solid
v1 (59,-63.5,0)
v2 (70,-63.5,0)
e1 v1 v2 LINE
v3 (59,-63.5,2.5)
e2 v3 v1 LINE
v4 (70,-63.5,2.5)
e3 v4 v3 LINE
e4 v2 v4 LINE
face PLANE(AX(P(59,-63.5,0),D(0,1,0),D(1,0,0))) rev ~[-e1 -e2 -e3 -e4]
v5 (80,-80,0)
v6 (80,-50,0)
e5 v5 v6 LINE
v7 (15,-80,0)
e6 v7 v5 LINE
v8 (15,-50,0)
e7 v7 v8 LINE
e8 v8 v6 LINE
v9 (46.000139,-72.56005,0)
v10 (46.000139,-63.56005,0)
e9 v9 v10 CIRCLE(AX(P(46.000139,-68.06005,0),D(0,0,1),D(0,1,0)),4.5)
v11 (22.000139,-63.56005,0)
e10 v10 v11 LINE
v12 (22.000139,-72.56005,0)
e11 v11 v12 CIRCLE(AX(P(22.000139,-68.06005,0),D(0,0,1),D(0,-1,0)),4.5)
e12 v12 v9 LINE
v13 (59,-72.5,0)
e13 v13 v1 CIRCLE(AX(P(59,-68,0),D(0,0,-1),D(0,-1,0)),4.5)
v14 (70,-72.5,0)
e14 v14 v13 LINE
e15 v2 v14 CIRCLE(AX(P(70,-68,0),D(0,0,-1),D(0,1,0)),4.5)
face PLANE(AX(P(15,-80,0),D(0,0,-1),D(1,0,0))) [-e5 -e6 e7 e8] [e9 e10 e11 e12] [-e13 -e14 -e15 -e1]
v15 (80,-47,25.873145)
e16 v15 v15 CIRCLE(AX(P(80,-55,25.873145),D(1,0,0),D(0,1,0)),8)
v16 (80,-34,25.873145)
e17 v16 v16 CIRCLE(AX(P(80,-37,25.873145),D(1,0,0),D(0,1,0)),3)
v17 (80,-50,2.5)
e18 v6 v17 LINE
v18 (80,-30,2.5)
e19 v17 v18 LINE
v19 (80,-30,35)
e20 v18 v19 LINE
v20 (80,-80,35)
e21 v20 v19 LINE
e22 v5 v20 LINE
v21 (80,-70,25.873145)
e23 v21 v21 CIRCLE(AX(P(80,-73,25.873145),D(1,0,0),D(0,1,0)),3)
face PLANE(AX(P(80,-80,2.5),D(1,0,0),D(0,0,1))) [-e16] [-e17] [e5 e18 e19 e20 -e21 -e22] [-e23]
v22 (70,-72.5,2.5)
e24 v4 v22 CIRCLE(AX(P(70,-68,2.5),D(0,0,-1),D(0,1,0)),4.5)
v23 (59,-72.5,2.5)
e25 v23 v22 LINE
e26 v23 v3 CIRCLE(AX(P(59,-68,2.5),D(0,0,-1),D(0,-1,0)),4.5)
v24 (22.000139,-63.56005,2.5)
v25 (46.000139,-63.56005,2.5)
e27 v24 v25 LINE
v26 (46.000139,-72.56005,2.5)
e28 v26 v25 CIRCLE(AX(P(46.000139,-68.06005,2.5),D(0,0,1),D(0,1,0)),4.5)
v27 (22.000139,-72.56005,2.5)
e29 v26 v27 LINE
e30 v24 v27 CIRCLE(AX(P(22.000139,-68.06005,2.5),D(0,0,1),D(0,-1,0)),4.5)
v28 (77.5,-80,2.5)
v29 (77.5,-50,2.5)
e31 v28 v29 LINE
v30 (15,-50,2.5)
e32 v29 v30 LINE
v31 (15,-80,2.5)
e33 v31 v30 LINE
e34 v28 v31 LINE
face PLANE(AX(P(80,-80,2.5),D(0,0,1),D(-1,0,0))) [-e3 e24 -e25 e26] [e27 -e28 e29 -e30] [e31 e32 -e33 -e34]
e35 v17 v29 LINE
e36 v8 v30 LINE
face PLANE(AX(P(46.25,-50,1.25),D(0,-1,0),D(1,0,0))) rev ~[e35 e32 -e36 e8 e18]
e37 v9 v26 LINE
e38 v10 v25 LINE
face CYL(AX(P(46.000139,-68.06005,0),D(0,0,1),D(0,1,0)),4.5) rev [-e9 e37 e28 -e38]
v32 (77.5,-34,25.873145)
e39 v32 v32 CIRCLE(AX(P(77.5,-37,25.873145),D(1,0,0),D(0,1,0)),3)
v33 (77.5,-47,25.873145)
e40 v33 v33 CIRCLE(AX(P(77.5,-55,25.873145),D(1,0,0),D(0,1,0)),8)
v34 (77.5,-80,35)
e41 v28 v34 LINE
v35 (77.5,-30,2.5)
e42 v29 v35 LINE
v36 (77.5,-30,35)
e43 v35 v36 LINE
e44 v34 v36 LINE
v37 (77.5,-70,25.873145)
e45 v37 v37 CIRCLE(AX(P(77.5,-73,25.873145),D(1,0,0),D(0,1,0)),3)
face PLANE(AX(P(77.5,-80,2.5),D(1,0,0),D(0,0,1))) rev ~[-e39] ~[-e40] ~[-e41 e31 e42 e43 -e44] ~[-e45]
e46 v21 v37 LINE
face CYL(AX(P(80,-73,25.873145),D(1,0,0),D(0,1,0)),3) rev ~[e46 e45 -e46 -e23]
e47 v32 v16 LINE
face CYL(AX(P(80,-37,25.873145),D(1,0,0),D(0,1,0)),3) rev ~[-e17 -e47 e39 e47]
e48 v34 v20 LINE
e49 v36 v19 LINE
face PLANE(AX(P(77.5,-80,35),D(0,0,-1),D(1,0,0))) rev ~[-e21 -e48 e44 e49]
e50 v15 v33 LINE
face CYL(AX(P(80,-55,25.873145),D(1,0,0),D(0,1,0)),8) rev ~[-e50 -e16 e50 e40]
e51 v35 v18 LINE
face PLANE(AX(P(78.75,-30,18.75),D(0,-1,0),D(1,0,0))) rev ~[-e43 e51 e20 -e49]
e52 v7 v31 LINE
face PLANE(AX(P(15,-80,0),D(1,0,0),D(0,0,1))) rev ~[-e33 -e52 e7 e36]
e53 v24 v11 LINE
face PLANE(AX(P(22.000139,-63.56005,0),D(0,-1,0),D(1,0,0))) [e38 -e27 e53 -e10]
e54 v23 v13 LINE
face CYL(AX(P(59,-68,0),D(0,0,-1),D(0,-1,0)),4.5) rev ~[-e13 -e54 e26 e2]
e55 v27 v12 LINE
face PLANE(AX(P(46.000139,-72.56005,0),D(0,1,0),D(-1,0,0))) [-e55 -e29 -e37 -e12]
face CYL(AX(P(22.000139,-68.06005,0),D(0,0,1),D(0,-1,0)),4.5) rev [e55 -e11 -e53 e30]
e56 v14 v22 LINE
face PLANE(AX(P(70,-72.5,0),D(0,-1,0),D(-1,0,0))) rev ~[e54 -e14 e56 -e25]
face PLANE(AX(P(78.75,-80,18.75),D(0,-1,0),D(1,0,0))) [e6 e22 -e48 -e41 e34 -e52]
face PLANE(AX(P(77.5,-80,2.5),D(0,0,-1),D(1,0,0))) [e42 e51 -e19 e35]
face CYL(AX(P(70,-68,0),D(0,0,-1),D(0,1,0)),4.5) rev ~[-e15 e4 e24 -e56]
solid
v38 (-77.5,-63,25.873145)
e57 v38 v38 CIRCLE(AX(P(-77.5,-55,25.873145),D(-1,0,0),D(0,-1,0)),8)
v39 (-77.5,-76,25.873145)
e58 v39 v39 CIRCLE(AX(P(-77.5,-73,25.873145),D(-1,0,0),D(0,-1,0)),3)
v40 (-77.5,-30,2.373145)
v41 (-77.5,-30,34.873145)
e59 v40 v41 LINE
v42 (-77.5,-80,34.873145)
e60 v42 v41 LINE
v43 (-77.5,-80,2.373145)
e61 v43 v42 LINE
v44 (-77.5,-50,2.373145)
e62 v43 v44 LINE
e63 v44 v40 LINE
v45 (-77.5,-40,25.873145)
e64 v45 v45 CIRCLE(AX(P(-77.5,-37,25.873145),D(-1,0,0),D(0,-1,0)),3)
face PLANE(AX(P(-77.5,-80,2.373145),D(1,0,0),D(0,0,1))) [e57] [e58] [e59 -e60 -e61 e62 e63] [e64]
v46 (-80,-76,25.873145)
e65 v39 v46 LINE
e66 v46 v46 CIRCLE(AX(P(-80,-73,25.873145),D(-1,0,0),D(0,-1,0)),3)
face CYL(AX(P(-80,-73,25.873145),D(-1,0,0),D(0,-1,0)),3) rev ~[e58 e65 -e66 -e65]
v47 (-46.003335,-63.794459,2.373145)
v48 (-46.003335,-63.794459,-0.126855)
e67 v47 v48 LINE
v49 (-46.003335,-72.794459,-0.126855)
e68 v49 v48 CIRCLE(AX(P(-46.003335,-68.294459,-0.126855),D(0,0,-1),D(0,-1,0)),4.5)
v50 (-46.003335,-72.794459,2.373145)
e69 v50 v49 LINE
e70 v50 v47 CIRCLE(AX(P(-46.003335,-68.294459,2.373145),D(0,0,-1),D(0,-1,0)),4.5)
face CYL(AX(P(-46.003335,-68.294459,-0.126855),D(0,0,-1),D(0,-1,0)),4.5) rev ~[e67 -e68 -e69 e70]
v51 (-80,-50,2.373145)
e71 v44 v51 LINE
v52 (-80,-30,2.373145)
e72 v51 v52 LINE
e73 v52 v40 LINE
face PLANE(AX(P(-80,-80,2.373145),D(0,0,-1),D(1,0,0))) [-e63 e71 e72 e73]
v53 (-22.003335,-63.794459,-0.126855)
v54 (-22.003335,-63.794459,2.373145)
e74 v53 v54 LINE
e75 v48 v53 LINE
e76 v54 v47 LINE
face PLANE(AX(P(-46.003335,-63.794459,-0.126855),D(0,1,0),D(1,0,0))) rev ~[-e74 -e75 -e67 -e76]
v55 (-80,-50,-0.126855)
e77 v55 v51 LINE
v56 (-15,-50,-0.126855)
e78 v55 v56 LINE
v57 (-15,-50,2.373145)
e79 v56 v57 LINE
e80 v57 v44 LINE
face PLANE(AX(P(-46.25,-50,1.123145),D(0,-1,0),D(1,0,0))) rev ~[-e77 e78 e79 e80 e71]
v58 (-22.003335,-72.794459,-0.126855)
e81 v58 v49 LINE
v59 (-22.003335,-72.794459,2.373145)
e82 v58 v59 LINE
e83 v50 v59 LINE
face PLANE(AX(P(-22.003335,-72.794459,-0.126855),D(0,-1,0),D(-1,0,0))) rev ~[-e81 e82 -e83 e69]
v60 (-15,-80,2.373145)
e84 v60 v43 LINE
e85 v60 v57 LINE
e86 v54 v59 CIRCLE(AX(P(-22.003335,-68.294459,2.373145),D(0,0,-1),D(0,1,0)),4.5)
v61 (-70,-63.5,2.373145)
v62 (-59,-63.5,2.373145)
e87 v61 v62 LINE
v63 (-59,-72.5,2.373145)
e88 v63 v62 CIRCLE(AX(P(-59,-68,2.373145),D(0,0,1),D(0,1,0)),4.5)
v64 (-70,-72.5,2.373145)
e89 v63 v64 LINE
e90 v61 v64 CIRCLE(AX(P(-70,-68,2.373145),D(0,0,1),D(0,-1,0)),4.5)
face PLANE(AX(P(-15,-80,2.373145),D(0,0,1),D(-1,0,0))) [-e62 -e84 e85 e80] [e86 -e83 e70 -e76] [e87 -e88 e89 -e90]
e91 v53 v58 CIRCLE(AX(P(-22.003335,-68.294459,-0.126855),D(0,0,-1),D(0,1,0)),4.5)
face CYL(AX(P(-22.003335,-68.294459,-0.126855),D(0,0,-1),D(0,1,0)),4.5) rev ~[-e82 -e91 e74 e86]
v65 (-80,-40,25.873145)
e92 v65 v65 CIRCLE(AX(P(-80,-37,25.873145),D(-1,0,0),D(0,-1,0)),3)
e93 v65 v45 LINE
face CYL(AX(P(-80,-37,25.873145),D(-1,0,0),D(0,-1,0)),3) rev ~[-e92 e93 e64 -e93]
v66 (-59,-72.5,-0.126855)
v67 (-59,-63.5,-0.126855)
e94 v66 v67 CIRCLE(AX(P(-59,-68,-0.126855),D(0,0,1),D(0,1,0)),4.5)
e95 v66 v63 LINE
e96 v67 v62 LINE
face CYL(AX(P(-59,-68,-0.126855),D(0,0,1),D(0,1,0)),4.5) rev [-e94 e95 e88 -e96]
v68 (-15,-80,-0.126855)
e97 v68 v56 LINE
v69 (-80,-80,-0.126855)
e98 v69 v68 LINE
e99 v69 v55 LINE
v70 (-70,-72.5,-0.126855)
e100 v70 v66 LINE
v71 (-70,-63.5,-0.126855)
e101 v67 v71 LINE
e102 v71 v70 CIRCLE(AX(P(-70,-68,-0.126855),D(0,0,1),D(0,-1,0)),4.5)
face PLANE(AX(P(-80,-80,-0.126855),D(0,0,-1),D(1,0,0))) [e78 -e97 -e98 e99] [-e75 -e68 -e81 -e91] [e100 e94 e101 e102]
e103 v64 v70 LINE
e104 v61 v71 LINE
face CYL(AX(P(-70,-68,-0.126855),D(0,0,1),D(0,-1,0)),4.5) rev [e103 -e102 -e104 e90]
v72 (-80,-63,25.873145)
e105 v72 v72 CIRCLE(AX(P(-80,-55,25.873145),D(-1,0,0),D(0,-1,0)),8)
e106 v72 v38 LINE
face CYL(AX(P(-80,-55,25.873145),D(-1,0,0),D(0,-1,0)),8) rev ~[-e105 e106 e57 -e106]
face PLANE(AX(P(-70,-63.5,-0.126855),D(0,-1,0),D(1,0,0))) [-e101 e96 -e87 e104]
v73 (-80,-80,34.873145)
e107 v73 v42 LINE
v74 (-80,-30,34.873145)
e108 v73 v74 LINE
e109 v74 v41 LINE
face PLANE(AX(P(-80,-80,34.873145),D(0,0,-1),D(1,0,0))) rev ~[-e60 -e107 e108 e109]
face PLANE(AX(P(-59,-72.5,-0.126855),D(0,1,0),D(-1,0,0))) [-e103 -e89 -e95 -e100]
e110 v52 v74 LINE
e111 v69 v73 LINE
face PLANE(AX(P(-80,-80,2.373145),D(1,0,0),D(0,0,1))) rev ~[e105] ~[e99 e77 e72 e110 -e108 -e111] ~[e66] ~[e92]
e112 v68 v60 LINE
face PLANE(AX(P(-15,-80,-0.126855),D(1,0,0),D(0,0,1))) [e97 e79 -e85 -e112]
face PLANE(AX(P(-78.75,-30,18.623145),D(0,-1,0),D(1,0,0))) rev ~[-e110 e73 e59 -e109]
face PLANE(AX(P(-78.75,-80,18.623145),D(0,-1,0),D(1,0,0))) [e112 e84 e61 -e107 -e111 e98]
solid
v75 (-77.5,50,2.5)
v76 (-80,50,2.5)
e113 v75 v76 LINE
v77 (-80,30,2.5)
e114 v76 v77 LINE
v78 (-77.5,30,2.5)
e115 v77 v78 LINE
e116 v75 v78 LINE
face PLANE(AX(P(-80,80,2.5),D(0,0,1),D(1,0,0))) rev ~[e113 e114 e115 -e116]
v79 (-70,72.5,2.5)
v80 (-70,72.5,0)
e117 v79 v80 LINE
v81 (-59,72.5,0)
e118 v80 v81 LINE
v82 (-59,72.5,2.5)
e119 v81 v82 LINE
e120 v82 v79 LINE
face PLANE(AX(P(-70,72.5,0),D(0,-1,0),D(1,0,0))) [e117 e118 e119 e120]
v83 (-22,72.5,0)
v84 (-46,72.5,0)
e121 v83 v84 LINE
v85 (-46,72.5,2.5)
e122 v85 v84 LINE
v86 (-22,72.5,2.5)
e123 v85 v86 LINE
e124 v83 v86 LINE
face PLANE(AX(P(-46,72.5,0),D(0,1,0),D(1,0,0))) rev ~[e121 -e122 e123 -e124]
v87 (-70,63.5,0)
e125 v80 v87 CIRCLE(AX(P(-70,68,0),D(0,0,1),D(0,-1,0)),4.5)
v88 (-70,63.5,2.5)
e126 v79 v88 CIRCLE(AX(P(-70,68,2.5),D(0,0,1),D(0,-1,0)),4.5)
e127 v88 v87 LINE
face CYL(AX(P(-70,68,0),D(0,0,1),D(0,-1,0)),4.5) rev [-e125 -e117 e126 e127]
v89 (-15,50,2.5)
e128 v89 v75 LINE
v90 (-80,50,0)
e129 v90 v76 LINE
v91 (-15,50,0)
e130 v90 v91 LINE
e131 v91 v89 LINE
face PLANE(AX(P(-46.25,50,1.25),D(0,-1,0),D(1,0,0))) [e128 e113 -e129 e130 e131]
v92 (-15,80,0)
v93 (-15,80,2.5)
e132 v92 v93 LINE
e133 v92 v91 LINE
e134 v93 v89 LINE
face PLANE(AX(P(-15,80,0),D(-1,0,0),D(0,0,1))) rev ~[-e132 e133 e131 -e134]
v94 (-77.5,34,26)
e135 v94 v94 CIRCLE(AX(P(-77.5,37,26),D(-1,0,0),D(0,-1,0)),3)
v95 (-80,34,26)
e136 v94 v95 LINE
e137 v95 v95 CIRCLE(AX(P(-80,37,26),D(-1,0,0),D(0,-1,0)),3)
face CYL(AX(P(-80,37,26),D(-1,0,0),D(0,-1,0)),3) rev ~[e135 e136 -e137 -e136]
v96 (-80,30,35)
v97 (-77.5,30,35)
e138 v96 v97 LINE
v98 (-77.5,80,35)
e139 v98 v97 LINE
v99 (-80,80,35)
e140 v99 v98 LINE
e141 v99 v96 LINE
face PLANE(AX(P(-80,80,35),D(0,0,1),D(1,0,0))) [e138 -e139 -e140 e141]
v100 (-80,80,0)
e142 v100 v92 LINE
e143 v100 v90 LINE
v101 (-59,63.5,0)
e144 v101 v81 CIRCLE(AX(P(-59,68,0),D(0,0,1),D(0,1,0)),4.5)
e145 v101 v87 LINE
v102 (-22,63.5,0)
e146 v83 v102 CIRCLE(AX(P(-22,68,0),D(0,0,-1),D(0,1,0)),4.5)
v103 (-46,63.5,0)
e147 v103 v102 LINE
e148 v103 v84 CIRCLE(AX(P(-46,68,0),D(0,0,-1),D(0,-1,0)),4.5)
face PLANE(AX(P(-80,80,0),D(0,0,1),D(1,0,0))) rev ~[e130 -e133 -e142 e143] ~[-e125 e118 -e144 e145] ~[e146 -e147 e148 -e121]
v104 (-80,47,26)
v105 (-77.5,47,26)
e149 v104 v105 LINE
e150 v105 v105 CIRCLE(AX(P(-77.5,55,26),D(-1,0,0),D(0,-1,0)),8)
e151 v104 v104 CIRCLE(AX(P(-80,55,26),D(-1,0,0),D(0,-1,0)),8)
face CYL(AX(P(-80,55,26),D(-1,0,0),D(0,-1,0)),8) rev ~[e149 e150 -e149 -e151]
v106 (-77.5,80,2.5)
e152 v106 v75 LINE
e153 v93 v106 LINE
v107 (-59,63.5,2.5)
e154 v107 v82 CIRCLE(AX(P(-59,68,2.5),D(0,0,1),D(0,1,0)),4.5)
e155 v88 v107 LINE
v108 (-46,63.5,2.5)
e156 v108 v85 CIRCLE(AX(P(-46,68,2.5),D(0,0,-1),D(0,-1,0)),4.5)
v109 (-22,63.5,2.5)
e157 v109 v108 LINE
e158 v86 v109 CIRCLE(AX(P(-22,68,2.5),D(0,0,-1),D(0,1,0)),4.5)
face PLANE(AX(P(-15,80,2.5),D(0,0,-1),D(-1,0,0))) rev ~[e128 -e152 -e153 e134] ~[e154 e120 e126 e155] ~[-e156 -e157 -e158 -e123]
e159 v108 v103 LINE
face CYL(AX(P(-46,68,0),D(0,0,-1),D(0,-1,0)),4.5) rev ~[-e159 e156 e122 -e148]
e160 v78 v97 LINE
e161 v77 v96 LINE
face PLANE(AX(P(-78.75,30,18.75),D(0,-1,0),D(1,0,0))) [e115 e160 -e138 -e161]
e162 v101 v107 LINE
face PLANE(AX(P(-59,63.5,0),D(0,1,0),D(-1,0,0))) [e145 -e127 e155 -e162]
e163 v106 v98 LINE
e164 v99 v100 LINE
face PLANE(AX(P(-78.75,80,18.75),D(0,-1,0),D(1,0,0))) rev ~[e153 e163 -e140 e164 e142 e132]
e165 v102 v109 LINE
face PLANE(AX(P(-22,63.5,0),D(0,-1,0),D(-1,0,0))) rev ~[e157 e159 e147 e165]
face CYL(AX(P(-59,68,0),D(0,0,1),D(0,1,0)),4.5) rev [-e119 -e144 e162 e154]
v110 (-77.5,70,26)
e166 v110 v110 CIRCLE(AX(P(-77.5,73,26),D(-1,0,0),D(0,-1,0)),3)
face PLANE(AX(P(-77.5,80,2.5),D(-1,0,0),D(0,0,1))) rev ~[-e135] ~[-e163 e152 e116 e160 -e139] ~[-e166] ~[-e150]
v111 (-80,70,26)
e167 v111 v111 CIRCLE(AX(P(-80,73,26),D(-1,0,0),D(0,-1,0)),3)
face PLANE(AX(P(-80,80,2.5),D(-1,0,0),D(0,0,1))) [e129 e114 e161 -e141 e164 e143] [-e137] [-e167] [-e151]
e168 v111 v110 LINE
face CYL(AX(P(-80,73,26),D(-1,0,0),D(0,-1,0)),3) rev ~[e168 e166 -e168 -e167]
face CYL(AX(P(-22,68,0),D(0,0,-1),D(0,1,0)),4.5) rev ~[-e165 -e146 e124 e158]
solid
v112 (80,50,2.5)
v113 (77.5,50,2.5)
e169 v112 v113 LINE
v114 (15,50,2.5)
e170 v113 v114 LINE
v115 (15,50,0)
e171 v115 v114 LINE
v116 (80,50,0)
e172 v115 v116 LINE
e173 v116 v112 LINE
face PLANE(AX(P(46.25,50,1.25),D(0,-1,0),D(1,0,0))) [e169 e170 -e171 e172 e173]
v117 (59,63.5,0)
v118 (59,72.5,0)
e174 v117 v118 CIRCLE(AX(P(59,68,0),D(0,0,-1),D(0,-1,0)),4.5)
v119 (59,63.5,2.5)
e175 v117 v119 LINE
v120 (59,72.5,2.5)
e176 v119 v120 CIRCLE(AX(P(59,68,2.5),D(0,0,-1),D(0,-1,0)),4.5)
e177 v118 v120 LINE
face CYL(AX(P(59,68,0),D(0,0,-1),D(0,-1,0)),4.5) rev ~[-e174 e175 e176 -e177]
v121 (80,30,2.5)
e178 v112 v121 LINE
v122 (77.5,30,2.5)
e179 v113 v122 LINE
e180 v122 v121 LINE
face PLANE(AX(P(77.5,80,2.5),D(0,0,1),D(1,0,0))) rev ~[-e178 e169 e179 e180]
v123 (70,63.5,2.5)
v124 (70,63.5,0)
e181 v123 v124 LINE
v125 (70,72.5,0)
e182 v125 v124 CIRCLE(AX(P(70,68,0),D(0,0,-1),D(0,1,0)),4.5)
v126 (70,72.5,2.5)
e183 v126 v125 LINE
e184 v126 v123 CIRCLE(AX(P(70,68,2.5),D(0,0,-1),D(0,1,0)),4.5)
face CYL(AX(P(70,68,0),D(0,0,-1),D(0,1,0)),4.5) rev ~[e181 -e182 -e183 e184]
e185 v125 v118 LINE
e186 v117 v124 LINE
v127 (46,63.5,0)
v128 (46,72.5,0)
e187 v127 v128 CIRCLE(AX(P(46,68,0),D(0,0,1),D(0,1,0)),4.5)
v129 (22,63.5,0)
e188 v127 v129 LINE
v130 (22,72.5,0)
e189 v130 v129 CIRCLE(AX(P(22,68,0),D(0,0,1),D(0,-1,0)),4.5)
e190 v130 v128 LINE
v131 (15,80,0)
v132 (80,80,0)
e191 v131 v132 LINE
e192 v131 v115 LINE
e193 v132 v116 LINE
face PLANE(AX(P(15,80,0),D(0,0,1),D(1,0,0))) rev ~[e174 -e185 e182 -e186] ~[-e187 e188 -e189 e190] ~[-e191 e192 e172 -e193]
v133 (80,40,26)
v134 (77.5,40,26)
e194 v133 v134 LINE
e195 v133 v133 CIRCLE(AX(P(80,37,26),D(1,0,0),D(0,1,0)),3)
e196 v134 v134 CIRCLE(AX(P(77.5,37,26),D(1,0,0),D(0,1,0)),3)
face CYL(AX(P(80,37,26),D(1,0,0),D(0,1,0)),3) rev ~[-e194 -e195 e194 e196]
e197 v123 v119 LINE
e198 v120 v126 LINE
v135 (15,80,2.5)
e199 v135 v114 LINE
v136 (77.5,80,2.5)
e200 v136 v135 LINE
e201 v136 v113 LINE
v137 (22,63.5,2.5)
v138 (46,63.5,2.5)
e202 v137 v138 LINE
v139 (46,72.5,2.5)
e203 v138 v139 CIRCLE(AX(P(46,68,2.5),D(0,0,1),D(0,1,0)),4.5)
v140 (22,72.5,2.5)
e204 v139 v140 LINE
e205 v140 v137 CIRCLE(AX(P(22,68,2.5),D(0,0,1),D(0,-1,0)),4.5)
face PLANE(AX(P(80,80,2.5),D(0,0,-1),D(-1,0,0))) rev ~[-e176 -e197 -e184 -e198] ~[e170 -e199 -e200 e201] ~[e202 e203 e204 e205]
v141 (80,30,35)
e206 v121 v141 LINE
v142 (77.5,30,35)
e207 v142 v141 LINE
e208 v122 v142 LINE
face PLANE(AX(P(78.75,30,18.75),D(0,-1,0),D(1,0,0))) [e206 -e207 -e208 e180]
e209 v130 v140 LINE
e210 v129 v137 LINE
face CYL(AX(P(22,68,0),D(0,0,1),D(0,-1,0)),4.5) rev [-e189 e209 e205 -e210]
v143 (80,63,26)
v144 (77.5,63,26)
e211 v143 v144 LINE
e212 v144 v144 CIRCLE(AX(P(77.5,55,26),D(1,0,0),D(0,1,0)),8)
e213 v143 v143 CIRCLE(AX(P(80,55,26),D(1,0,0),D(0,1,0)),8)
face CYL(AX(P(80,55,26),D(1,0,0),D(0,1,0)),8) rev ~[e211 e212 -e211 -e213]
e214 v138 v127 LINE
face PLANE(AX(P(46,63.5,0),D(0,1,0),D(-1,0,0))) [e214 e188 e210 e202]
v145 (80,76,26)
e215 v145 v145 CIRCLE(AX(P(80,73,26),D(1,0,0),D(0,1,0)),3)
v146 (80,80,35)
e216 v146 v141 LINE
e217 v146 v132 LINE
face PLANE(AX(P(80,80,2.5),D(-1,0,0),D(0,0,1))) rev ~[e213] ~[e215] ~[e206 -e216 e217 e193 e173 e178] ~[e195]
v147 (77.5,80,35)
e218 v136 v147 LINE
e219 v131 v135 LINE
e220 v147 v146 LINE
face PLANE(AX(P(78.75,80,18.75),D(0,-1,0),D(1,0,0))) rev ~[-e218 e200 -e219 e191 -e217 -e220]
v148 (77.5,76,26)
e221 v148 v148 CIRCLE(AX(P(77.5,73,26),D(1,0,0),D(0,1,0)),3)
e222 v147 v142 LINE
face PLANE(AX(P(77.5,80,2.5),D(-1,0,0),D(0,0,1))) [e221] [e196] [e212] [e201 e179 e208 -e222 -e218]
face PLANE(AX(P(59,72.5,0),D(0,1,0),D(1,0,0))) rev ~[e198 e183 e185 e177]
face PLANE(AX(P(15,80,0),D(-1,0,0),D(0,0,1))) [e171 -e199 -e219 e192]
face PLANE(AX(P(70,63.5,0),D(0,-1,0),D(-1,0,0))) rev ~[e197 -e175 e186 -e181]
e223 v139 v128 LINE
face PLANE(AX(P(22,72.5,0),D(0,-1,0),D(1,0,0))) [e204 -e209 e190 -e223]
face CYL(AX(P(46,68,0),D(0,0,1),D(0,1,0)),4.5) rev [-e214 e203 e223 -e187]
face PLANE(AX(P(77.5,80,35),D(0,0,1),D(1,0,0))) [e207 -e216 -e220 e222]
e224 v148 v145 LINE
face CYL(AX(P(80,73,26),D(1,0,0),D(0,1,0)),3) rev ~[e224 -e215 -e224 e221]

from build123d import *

# Parameters (mm, degrees)
F2_W      = 62.5
F2_H      = 2.5
F2_W_2    = 2.5
F3_DEPTH  = 30
F2_H_2    = 32.5
F4_DEPTH  = 50
F5_R      = 3
F5_R_2    = 8
F7_DEPTH  = 5
F8_DEPTH  = 5
F9_W      = 62.5
F9_H      = 2.5
F9_W_2    = 2.5
F10_DEPTH = 30
F9_H_2    = 32.5
F11_DEPTH = 50
F12_R     = 3
F12_R_2   = 8
F14_DEPTH = 5
F15_DEPTH = 5
F16_W     = 62.5
F16_H     = 2.5
F16_W_2   = 2.5
F17_DEPTH = 30
F16_H_2   = 32.5
F18_DEPTH = 50
F19_R     = 3
F19_R_2   = 8
F21_DEPTH = 5
F22_DEPTH = 5
F23_W     = 62.5
F23_H     = 2.5
F23_W_2   = 2.5
F24_DEPTH = 30
F23_H_2   = 32.5
F25_DEPTH = 50
F26_R     = 3
F26_R_2   = 8
F28_DEPTH = 5
F29_DEPTH = 5


with BuildPart() as f3:
    # F2 (on offset) → F3 (new body)
    with BuildSketch(Plane.XZ.offset(80)):
        with Locations((-46.25, 1.123145)):
            Rectangle(F2_W, F2_H)
        with Locations((-78.75, 1.123145)):
            Rectangle(F2_W_2, F2_H)
    extrude(amount=-F3_DEPTH)

    # F2 (on offset) → F4 (join)
    with BuildSketch(Plane.XZ.offset(80)):
        with Locations((-78.75, 18.623145)):
            Rectangle(F2_W_2, F2_H_2)
    extrude(amount=-F4_DEPTH)

    # F5 (on face) → F7 (cut, symmetric)
    with BuildSketch(Plane(origin=(-80, 0, 0), x_dir=(0, -1, 0), z_dir=(-1, 0, 0))):
        with Locations((37, 25.873145)):
            Circle(F5_R)
        with Locations((55, 25.873145)):
            Circle(F5_R_2)
        with Locations((73, 25.873145)):
            Circle(F5_R)
    extrude(amount=F7_DEPTH, both=True, mode=Mode.SUBTRACT)

    # F6 (on face) → F8 (cut, symmetric)
    with BuildSketch(Plane(origin=(0, 0, -0.126855), x_dir=(1, 0, 0), z_dir=(0, 0, -1))):
        with BuildLine():
            Line((-59, 72.5), (-70, 72.5))
            ThreePointArc((-70, 72.5), (-74.5, 68), (-70, 63.5))
            Line((-70, 63.5), (-59, 63.5))
            ThreePointArc((-59, 63.5), (-54.5, 68), (-59, 72.5))
        make_face()
        with BuildLine():
            Line((-22.003335, 72.794459), (-46.003335, 72.794459))
            ThreePointArc((-46.003335, 72.794459), (-50.503335, 68.294459), (-46.003335, 63.794459))
            Line((-46.003335, 63.794459), (-22.003335, 63.794459))
            ThreePointArc((-22.003335, 63.794459), (-17.503335, 68.294459), (-22.003335, 72.794459))
        make_face()
    extrude(amount=F8_DEPTH, both=True, mode=Mode.SUBTRACT)


with BuildPart() as f10:
    # F9 (on offset) → F10 (new body)
    with BuildSketch(Plane.XZ.offset(80)):
        with Locations((46.25, 1.25)):
            Rectangle(F9_W, F9_H)
        with Locations((78.75, 1.25)):
            Rectangle(F9_W_2, F9_H)
    extrude(amount=-F10_DEPTH)

    # F9 (on offset) → F11 (join)
    with BuildSketch(Plane.XZ.offset(80)):
        with Locations((78.75, 18.75)):
            Rectangle(F9_W_2, F9_H_2)
    extrude(amount=-F11_DEPTH)

    # F12 (on face) → F14 (cut, symmetric)
    with BuildSketch(Plane.YZ.offset(80)):
        with Locations((-73, 25.873145)):
            Circle(F12_R)
        with Locations((-55, 25.873145)):
            Circle(F12_R_2)
        with Locations((-37, 25.873145)):
            Circle(F12_R)
    extrude(amount=F14_DEPTH, both=True, mode=Mode.SUBTRACT)

    # F13 (on face) → F15 (cut, symmetric)
    with BuildSketch(Plane(origin=(0, 0, 0), x_dir=(1, 0, 0), z_dir=(0, 0, -1))):
        with BuildLine():
            Line((46.000139, 72.56005), (22.000139, 72.56005))
            ThreePointArc((22.000139, 72.56005), (17.500139, 68.06005), (22.000139, 63.56005))
            Line((22.000139, 63.56005), (46.000139, 63.56005))
            ThreePointArc((46.000139, 63.56005), (50.500139, 68.06005), (46.000139, 72.56005))
        make_face()
        with BuildLine():
            Line((70, 72.5), (59, 72.5))
            ThreePointArc((59, 72.5), (54.5, 68), (59, 63.5))
            Line((59, 63.5), (70, 63.5))
            ThreePointArc((70, 63.5), (74.5, 68), (70, 72.5))
        make_face()
    extrude(amount=F15_DEPTH, both=True, mode=Mode.SUBTRACT)


with BuildPart() as f17:
    # F16 (on offset) → F17 (new body)
    with BuildSketch(Plane.XZ.offset(-80)):
        with Locations((-46.25, 1.25)):
            Rectangle(F16_W, F16_H)
        with Locations((-78.75, 1.25)):
            Rectangle(F16_W_2, F16_H)
    extrude(amount=F17_DEPTH)

    # F16 (on offset) → F18 (join)
    with BuildSketch(Plane.XZ.offset(-80)):
        with Locations((-78.75, 18.75)):
            Rectangle(F16_W_2, F16_H_2)
    extrude(amount=F18_DEPTH)

    # F19 (on face) → F21 (cut, symmetric)
    with BuildSketch(Plane(origin=(-80, 0, 0), x_dir=(0, -1, 0), z_dir=(-1, 0, 0))):
        with Locations((-73, 26)):
            Circle(F19_R)
        with Locations((-55, 26)):
            Circle(F19_R_2)
        with Locations((-37, 26)):
            Circle(F19_R)
    extrude(amount=F21_DEPTH, both=True, mode=Mode.SUBTRACT)

    # F20 (on face) → F22 (cut, symmetric)
    with BuildSketch(Plane(origin=(0, 0, 0), x_dir=(1, 0, 0), z_dir=(0, 0, -1))):
        with BuildLine():
            Line((-59, -63.5), (-70, -63.5))
            ThreePointArc((-70, -63.5), (-74.5, -68), (-70, -72.5))
            Line((-70, -72.5), (-59, -72.5))
            ThreePointArc((-59, -72.5), (-54.5, -68), (-59, -63.5))
        make_face()
        with BuildLine():
            Line((-22, -63.5), (-46, -63.5))
            ThreePointArc((-46, -63.5), (-50.5, -68), (-46, -72.5))
            Line((-46, -72.5), (-22, -72.5))
            ThreePointArc((-22, -72.5), (-17.5, -68), (-22, -63.5))
        make_face()
    extrude(amount=F22_DEPTH, both=True, mode=Mode.SUBTRACT)


with BuildPart() as f24:
    # F23 (on offset) → F24 (new body)
    with BuildSketch(Plane.XZ.offset(-80)):
        with Locations((46.25, 1.25)):
            Rectangle(F23_W, F23_H)
        with Locations((78.75, 1.25)):
            Rectangle(F23_W_2, F23_H)
    extrude(amount=F24_DEPTH)

    # F23 (on offset) → F25 (join)
    with BuildSketch(Plane.XZ.offset(-80)):
        with Locations((78.75, 18.75)):
            Rectangle(F23_W_2, F23_H_2)
    extrude(amount=F25_DEPTH)

    # F26 (on face) → F28 (cut, symmetric)
    with BuildSketch(Plane.YZ.offset(80)):
        with Locations((37, 26)):
            Circle(F26_R)
        with Locations((55, 26)):
            Circle(F26_R_2)
        with Locations((73, 26)):
            Circle(F26_R)
    extrude(amount=F28_DEPTH, both=True, mode=Mode.SUBTRACT)

    # F27 (on face) → F29 (cut, symmetric)
    with BuildSketch(Plane(origin=(0, 0, 0), x_dir=(1, 0, 0), z_dir=(0, 0, -1))):
        with BuildLine():
            Line((22, -72.5), (46, -72.5))
            ThreePointArc((46, -72.5), (50.5, -68), (46, -63.5))
            Line((46, -63.5), (22, -63.5))
            ThreePointArc((22, -63.5), (17.5, -68), (22, -72.5))
        make_face()
        with BuildLine():
            Line((59, -72.5), (70, -72.5))
            ThreePointArc((70, -72.5), (74.5, -68), (70, -63.5))
            Line((70, -63.5), (59, -63.5))
            ThreePointArc((59, -63.5), (54.5, -68), (59, -72.5))
        make_face()
    extrude(amount=F29_DEPTH, both=True, mode=Mode.SUBTRACT)


solid = Compound([f3.part, f10.part, f17.part, f24.part])
